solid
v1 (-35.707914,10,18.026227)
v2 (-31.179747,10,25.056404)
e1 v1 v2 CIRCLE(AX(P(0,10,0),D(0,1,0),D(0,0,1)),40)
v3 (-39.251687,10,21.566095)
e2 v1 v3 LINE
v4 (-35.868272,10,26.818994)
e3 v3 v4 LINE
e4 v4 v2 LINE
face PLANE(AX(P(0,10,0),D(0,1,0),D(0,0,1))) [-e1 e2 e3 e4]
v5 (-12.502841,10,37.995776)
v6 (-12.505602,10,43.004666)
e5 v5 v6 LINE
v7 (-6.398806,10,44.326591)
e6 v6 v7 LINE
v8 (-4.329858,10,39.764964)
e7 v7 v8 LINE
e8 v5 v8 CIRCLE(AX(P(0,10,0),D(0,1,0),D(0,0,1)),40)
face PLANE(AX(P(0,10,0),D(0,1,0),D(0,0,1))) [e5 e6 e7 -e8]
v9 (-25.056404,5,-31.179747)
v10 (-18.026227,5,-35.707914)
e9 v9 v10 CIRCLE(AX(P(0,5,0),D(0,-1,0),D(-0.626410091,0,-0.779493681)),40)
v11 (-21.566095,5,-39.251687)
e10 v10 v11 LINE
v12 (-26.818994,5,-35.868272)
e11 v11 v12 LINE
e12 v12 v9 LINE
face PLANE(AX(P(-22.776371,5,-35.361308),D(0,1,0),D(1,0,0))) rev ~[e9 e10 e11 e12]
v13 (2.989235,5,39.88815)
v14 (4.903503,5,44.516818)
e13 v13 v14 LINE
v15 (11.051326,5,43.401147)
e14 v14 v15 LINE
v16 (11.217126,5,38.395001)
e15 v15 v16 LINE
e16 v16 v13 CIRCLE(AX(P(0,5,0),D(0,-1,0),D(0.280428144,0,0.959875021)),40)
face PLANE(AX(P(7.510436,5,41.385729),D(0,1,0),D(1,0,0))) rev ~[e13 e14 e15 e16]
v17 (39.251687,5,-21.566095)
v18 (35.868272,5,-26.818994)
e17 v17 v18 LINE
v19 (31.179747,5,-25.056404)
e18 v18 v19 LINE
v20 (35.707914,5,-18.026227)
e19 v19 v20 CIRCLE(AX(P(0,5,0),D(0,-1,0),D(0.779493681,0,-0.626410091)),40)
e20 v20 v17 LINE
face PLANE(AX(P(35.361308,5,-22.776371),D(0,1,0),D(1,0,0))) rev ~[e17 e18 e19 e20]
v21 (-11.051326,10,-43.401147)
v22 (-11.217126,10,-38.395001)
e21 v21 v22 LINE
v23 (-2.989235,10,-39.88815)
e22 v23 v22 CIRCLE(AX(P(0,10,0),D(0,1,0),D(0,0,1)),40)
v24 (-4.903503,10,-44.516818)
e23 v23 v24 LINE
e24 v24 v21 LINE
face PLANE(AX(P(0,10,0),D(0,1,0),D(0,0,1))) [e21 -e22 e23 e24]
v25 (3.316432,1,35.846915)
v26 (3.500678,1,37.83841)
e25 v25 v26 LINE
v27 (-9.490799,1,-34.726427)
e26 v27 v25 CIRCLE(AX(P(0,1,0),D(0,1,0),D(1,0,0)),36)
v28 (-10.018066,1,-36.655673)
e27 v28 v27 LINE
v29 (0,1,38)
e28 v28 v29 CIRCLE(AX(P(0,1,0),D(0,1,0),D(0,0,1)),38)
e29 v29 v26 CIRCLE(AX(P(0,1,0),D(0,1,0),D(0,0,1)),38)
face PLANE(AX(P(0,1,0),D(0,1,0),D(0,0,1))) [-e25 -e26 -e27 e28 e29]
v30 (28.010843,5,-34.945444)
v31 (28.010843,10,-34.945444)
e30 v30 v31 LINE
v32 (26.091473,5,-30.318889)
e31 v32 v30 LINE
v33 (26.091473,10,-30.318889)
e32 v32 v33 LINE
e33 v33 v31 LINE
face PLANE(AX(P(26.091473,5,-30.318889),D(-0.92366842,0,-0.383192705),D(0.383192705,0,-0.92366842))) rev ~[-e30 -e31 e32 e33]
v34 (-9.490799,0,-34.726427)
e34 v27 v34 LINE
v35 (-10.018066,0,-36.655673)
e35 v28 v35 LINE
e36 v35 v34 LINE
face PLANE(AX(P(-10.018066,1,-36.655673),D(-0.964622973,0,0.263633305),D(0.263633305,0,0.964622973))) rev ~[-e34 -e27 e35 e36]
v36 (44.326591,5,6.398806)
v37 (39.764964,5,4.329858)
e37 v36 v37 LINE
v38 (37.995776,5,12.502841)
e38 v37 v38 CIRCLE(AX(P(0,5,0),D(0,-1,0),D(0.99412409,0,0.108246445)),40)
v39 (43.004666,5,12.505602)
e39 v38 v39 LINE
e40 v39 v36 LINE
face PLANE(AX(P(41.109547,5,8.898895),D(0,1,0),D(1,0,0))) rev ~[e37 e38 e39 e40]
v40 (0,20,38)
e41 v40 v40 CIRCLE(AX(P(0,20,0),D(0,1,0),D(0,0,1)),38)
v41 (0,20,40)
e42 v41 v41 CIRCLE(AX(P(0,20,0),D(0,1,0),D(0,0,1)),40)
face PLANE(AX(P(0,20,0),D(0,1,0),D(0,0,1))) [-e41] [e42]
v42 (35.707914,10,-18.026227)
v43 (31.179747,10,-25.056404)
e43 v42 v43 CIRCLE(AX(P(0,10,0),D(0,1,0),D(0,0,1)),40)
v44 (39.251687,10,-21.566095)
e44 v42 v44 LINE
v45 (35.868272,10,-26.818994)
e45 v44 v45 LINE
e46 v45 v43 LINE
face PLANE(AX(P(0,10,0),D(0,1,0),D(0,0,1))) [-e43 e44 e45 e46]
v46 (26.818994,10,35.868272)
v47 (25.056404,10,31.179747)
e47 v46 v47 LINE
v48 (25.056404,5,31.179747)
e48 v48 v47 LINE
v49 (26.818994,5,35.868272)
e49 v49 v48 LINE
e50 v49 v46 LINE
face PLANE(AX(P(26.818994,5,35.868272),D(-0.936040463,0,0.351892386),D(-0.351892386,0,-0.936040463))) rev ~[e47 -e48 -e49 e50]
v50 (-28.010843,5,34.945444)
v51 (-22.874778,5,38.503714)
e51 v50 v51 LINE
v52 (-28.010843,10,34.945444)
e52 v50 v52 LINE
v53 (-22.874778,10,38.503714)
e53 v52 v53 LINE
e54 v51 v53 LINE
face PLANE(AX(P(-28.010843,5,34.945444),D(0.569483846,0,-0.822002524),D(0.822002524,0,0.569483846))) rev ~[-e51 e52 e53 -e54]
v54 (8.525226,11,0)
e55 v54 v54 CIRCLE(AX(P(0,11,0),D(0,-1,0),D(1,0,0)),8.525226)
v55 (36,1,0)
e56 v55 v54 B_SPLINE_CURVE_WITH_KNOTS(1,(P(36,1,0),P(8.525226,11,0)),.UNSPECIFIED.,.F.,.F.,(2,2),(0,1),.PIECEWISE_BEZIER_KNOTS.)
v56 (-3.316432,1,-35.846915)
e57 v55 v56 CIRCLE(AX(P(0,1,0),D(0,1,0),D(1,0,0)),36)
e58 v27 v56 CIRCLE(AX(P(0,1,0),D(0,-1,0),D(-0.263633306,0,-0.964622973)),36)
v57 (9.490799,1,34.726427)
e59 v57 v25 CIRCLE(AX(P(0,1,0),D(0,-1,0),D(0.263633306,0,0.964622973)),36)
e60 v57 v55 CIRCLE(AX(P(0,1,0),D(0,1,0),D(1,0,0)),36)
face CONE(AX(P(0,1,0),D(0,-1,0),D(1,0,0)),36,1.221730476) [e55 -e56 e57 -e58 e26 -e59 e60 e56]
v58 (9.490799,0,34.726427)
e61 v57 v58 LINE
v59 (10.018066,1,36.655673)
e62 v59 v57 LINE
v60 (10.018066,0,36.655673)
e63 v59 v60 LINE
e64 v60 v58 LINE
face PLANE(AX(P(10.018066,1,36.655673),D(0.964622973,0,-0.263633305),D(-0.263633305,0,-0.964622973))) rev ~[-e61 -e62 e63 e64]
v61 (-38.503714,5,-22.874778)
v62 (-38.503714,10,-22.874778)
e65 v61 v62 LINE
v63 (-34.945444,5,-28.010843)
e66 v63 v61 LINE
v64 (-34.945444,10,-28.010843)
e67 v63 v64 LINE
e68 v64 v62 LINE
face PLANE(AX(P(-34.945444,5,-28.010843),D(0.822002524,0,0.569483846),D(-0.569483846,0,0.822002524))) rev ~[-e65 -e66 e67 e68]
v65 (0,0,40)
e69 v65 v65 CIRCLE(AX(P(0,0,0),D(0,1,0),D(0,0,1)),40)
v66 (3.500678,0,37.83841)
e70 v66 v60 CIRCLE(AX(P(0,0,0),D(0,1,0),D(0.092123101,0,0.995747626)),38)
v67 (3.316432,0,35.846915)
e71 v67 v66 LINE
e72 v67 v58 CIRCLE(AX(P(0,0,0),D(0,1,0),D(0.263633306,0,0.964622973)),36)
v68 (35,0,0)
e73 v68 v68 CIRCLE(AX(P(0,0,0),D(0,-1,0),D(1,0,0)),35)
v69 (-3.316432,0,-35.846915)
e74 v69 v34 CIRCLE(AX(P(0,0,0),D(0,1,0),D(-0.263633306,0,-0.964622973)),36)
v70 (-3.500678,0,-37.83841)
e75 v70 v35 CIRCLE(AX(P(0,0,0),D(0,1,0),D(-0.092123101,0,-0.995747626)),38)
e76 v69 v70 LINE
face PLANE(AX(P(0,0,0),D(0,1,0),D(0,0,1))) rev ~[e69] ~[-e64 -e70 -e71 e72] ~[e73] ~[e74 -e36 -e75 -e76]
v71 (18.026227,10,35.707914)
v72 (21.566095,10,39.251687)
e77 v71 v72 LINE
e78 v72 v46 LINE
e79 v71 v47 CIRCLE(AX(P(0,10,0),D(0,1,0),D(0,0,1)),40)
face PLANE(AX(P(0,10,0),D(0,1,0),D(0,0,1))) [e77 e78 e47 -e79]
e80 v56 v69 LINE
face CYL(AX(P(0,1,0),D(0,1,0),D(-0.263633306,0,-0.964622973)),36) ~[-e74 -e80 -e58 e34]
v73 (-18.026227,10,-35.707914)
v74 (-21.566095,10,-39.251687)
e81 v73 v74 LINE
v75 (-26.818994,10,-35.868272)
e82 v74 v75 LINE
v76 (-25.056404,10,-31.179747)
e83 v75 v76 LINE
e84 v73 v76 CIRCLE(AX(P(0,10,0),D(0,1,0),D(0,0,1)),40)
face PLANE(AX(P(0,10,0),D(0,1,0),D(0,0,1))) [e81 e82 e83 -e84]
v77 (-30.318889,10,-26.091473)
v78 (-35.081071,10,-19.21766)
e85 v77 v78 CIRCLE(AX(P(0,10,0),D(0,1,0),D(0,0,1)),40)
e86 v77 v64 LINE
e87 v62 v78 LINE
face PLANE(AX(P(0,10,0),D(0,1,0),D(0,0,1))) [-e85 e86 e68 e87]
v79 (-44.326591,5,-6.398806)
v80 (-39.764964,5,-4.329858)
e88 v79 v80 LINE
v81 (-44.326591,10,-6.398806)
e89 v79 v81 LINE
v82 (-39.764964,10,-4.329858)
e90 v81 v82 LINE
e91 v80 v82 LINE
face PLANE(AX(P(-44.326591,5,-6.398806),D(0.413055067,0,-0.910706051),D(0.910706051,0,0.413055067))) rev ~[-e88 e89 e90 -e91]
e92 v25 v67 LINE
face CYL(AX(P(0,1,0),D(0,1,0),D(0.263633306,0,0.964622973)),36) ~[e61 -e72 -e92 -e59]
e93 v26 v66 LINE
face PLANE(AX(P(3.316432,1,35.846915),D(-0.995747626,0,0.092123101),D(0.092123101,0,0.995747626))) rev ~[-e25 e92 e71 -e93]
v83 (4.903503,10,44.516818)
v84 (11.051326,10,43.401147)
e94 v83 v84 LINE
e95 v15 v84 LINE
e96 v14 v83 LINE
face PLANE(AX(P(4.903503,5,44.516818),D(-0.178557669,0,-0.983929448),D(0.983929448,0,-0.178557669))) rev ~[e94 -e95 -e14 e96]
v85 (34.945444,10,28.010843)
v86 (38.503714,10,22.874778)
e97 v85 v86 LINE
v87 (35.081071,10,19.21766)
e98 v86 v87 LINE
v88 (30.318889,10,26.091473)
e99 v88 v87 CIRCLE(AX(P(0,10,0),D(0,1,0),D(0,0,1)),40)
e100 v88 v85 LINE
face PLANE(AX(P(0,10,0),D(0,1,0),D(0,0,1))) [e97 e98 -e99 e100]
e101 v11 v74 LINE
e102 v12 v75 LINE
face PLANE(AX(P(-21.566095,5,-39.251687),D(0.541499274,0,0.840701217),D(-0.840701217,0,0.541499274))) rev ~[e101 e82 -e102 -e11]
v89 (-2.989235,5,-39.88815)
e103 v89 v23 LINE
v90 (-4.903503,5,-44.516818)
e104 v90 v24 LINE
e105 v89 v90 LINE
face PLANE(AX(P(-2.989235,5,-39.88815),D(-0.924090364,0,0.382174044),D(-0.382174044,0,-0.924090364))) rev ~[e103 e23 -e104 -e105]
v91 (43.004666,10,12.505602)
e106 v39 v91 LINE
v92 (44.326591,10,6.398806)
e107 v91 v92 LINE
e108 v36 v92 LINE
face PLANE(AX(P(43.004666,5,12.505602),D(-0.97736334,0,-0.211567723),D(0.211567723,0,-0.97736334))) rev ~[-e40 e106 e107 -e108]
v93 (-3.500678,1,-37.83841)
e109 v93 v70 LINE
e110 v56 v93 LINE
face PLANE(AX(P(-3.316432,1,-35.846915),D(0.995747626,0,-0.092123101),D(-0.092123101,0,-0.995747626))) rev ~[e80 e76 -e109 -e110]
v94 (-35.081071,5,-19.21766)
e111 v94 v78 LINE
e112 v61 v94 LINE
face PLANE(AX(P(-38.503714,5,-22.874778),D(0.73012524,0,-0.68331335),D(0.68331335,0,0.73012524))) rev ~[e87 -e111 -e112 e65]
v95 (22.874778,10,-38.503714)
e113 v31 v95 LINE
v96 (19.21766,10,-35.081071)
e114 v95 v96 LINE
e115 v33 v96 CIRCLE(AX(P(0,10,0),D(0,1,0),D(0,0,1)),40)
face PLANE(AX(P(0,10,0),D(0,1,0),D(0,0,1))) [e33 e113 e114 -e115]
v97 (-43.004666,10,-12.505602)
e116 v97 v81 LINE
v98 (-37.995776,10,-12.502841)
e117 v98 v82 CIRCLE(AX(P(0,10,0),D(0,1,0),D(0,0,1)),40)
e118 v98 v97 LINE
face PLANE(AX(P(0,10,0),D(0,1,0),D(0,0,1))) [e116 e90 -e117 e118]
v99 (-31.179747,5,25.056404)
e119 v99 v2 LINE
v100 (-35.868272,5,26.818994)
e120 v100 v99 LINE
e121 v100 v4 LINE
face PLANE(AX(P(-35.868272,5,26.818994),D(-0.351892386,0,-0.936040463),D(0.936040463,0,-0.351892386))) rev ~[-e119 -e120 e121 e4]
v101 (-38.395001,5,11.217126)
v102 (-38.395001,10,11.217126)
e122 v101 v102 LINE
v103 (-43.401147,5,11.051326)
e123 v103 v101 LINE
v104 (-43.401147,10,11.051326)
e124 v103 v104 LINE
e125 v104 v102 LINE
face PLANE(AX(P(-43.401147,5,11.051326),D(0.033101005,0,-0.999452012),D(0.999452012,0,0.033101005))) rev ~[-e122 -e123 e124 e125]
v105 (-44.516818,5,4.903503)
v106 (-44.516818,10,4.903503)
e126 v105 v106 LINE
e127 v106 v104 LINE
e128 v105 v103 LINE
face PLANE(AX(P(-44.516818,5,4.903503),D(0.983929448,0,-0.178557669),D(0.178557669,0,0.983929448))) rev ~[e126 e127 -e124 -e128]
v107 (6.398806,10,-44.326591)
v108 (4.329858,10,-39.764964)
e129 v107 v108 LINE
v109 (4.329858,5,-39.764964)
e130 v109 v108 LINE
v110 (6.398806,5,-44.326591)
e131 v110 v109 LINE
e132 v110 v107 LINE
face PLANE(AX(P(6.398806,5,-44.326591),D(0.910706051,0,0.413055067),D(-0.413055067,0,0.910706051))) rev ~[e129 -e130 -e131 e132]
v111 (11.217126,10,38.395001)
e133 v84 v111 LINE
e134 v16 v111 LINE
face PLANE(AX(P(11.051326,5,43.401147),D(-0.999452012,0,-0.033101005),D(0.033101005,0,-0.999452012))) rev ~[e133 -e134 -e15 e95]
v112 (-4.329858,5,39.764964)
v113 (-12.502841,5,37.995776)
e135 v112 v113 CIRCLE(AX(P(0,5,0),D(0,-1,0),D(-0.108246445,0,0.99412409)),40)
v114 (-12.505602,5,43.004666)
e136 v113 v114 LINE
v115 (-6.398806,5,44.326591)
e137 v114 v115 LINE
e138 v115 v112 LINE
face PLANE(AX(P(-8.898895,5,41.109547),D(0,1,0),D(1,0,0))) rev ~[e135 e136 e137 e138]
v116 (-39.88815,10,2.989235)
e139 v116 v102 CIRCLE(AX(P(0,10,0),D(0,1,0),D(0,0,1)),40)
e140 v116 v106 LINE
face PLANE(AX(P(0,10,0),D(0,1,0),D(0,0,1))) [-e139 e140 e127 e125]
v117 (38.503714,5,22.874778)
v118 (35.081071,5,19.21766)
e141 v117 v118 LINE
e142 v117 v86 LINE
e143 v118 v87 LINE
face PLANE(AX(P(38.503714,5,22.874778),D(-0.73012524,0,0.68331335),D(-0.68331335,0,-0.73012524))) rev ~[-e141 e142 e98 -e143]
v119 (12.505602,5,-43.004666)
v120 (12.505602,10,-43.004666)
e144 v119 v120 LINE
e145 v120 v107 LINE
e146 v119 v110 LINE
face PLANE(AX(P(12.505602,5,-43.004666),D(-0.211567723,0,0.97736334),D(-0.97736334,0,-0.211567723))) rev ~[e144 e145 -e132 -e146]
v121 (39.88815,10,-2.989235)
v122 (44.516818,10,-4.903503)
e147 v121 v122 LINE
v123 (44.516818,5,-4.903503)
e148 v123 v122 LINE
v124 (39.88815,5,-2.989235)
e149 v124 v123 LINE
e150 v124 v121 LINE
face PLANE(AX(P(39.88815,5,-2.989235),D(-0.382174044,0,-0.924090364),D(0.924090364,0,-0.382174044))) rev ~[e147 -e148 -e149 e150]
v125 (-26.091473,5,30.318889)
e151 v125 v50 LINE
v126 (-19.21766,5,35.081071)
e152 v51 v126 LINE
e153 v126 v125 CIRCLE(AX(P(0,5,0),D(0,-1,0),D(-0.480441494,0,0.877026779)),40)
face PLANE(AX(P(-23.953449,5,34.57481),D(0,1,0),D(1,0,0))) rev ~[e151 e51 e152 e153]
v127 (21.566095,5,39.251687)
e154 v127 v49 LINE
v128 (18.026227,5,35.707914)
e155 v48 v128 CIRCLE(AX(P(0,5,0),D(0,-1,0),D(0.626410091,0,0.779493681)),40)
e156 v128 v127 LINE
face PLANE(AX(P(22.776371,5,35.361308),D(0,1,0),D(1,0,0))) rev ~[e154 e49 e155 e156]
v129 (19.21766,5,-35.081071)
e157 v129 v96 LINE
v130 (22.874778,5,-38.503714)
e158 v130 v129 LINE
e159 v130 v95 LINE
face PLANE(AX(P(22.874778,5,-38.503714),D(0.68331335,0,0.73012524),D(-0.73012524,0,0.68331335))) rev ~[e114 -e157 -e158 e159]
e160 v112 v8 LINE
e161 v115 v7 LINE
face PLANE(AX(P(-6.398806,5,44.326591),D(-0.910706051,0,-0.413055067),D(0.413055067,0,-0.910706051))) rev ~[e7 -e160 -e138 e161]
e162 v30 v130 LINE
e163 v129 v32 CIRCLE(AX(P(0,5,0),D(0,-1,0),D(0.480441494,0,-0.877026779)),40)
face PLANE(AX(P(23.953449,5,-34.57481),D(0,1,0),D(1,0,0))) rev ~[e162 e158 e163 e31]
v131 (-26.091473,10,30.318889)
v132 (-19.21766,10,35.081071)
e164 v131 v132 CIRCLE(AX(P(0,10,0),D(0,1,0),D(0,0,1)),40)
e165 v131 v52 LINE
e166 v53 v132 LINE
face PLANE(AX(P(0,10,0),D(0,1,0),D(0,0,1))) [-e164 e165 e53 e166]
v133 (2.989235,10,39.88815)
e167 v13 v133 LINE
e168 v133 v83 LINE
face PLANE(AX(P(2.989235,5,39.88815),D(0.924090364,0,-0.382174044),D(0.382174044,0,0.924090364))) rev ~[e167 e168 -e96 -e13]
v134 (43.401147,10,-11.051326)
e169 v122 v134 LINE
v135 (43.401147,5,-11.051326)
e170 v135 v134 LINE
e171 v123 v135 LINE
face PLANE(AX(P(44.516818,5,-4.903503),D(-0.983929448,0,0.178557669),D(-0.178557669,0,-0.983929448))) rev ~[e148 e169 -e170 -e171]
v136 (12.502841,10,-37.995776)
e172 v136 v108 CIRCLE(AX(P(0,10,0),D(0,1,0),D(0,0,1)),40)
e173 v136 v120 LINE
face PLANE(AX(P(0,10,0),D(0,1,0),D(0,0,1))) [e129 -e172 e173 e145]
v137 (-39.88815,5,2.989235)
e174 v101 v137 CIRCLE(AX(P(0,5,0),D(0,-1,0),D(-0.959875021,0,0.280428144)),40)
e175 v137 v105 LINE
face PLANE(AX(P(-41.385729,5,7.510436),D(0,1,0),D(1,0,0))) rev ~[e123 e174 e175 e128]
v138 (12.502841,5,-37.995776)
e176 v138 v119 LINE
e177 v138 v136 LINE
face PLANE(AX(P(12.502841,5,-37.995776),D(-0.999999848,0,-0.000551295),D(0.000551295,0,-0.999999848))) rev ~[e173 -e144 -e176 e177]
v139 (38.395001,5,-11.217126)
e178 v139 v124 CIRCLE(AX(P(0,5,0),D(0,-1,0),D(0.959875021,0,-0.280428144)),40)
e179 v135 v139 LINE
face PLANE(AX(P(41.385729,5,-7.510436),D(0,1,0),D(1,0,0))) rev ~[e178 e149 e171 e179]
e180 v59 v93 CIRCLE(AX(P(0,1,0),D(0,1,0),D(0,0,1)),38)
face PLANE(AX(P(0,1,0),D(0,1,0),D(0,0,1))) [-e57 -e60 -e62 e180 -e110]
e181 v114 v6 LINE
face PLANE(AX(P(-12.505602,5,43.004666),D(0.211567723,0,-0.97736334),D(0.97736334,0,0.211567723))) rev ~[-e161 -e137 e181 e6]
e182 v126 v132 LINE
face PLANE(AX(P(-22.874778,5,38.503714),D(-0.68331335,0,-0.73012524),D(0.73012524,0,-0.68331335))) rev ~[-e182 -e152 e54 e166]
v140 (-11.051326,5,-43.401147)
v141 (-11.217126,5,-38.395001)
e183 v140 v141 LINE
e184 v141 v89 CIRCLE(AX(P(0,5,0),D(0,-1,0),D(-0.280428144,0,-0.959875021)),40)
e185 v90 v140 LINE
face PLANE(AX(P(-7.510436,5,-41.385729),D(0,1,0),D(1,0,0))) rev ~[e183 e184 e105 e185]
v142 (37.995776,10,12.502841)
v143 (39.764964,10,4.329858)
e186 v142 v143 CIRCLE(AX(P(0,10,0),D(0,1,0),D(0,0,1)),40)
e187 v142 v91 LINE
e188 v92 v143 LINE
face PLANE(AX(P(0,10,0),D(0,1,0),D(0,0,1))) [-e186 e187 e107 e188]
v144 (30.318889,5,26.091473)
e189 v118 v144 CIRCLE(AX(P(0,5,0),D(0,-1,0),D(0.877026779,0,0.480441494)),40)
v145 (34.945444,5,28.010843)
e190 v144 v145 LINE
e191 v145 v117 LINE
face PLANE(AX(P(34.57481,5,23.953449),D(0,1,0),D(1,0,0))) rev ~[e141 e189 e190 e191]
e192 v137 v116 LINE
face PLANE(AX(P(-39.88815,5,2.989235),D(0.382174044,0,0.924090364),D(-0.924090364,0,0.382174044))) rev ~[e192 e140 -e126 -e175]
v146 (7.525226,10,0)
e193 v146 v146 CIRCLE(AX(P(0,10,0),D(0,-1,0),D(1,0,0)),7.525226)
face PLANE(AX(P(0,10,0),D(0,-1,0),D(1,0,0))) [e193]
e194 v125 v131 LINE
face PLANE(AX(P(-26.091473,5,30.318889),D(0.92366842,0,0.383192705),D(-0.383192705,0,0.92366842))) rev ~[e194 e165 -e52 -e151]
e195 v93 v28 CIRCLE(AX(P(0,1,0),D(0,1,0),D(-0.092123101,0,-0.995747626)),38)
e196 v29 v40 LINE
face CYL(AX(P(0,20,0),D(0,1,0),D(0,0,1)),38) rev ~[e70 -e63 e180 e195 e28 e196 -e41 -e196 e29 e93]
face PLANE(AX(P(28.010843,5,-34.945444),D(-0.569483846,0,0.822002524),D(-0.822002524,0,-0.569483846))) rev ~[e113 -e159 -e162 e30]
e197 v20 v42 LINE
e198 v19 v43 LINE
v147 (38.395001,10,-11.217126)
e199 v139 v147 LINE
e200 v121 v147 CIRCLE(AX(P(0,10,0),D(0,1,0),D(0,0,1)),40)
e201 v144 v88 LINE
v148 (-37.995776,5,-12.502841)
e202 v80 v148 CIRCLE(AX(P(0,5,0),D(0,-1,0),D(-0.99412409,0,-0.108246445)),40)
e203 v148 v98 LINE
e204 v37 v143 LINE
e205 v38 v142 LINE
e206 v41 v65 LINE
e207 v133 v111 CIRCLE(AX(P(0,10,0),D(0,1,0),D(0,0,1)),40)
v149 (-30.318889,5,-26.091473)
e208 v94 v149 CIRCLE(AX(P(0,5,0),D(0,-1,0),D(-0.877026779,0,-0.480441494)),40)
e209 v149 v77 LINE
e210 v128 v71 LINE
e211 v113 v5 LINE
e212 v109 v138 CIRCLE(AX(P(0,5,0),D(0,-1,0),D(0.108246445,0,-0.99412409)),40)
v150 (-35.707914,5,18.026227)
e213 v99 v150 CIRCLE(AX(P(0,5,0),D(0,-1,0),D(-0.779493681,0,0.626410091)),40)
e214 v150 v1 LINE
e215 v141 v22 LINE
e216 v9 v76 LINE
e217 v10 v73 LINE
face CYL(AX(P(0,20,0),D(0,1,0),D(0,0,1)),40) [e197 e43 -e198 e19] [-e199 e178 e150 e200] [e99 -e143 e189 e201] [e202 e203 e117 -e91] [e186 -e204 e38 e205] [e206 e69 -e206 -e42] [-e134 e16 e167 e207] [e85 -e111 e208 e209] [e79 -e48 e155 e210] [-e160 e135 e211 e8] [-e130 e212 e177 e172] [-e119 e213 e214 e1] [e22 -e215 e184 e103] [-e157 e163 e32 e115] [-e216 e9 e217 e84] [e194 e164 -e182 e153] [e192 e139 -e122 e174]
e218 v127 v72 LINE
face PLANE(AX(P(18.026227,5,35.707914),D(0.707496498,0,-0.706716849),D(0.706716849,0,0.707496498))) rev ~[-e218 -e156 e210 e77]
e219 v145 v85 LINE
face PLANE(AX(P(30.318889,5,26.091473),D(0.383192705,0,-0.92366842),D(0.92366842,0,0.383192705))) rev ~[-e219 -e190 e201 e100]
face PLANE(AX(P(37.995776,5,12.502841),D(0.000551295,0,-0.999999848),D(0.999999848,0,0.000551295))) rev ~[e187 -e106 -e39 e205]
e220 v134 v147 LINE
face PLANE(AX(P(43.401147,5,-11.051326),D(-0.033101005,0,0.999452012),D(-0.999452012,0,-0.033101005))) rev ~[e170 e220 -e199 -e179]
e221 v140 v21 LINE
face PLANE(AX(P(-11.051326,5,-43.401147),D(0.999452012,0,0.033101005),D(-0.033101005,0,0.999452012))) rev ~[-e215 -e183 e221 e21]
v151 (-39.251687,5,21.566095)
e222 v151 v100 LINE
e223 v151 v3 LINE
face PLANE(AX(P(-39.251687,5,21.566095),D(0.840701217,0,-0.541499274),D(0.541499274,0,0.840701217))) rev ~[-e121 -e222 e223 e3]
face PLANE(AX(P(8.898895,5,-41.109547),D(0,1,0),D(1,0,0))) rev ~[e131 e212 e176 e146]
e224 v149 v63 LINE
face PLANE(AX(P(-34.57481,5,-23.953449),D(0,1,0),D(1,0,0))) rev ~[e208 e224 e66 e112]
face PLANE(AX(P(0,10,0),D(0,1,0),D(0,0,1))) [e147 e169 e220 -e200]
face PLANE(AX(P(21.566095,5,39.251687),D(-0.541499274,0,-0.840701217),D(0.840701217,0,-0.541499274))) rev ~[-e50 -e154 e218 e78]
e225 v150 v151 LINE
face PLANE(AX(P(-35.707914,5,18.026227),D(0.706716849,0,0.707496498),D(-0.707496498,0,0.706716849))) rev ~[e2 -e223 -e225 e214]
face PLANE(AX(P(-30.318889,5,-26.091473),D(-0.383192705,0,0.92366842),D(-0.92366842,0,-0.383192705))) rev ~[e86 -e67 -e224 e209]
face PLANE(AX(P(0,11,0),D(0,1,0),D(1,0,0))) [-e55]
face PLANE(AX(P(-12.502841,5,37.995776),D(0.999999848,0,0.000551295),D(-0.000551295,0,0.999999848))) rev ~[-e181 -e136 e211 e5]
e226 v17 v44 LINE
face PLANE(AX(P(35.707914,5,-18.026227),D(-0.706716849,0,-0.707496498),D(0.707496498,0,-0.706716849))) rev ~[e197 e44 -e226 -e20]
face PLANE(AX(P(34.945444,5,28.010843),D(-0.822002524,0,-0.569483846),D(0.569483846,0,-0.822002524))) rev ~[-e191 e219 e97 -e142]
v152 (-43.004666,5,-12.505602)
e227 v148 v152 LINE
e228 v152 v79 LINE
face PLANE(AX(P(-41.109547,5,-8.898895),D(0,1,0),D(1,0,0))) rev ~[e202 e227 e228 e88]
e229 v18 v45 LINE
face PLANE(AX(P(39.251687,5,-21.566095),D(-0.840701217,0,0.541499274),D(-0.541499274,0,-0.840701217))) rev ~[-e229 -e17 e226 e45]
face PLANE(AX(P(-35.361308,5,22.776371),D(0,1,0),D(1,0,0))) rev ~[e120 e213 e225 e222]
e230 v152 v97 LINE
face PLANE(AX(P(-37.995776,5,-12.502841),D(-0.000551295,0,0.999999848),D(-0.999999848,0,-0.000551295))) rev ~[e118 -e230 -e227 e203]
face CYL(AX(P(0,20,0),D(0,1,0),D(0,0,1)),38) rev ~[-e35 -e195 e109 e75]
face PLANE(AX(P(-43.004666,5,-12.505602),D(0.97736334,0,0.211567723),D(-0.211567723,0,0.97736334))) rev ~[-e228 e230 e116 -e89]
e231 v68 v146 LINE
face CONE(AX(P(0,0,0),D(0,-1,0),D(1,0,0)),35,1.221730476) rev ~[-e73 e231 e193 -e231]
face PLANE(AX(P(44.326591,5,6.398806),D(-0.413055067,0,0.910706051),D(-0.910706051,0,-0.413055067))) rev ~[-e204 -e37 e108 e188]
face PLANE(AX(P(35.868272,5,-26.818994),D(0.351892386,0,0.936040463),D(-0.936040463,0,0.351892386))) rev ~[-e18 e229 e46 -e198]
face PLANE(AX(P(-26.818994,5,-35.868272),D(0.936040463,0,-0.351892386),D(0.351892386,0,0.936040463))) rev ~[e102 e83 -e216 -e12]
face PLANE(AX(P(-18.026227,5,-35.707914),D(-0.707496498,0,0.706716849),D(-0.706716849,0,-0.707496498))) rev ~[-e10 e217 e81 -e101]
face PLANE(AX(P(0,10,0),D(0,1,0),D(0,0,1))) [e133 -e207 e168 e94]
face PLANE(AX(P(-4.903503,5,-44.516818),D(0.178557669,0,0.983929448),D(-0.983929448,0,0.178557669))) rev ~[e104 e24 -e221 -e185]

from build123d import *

# Parameters (mm, degrees)
SKETCH1_R           = 40
BOSS_EXTRUDE1_DEPTH = 10
SKETCH2_R           = 38
CUT_EXTRUDE1_DEPTH  = 9
CUT_EXTRUDE2_DEPTH  = 8
SKETCH4_R           = 36
BOSS_EXTRUDE2_DEPTH = 10
BOSS_EXTRUDE2_TAPER = 70
SKETCH5_R           = 35
CUT_EXTRUDE3_DEPTH  = 10
CUT_EXTRUDE3_DRAFT  = -70
BOSS_EXTRUDE4_START = -5
BOSS_EXTRUDE4_DEPTH = 5
BOSS_EXTRUDE5_START = 10
SKETCH8_R           = 40
SKETCH8_R_2         = 38
BOSS_EXTRUDE5_DEPTH = 10


with BuildPart() as part:
    # Sketch1 → Boss-Extrude1 (new body)
    with BuildSketch(Plane(origin=(0, 0, 0), x_dir=(1, 0, 0), z_dir=(0, 1, 0))):
        with Locations(Location((0, 0, 0), (0, 0, 270))):
            Circle(SKETCH1_R)
    extrude(amount=BOSS_EXTRUDE1_DEPTH)

    # Sketch2 → Cut-Extrude1 (cut)
    with BuildSketch(Plane(origin=(0, 10, 0), x_dir=(1, 0, 0), z_dir=(0, 1, 0))):
        with Locations(Location((0, 0, 0), (0, 0, 270))):
            Circle(SKETCH2_R)
    extrude(amount=-CUT_EXTRUDE1_DEPTH, mode=Mode.SUBTRACT)

    # Sketch3 → Cut-Extrude2 (cut)
    with BuildSketch(Plane(origin=(0, 1, 0), x_dir=(1, 0, 0), z_dir=(0, 1, 0))):
        with BuildLine():
            Line((-10.01806559, 36.655672983), (-9.49079898, 34.726427036))
            ThreePointArc((-9.49079898, 34.726427036), (-6.428076084, 35.421460132), (-3.316431646, 35.846914527))
            Line((-3.316431646, 35.846914527), (-3.500677849, 37.838409779))
            ThreePointArc((-3.500677849, 37.838409779), (-6.785191422, 37.389319028), (-10.01806559, 36.655672983))
        make_face()
        with BuildLine():
            Line((10.01806559, -36.655672983), (9.49079898, -34.726427036))
            ThreePointArc((9.49079898, -34.726427036), (6.428076084, -35.421460132), (3.316431646, -35.846914527))
            Line((3.316431646, -35.846914527), (3.500677849, -37.838409779))
            ThreePointArc((3.500677849, -37.838409779), (6.785191421, -37.389319028), (10.01806559, -36.655672983))
        make_face()
    extrude(amount=-CUT_EXTRUDE2_DEPTH, mode=Mode.SUBTRACT)

    # Sketch4 → Boss-Extrude2 (add)
    with BuildSketch(Plane(origin=(0, 1, 0), x_dir=(1, 0, 0), z_dir=(0, 1, 0))):
        Circle(SKETCH4_R)
    extrude(amount=BOSS_EXTRUDE2_DEPTH, taper=BOSS_EXTRUDE2_TAPER)


with BuildPart() as cut_extrude3_tool:
    # Sketch5 → Cut-Extrude3 (with draft: the straight prism first)
    with BuildSketch(Plane.XZ):
        Circle(SKETCH5_R)
    extrude(amount=-CUT_EXTRUDE3_DEPTH)
    # Cut-Extrude3: the draft: its side faces are tilted about the plane it starts from
    cut_extrude3_sides = [cut_extrude3_tool.faces().sort_by_distance(p)[0] for p in [
        (-35, 5, 0),
    ]]
    draft(cut_extrude3_sides, Plane.XZ, CUT_EXTRUDE3_DRAFT)


with BuildPart() as part_1:
    add(part.part)

    # Cut-Extrude3: cut by cut_extrude3_tool
    add(cut_extrude3_tool.part, mode=Mode.SUBTRACT)

    # Sketch7 → Boss-Extrude4 (add)
    with BuildSketch(Plane(origin=(0, 10, 0), x_dir=(1, 0, 0), z_dir=(0, 1, 0)).offset(BOSS_EXTRUDE4_START)):
        with BuildLine():
            Line((-11.051326445, 43.40114745), (-11.217125783, 38.395000836))
            ThreePointArc((-11.217125783, 38.395000836), (-7.142306759, 39.357177924), (-2.989235129, 39.888149535))
            Line((-2.989235129, 39.888149535), (-4.90350342, 44.516817838))
            Line((-4.90350342, 44.516817838), (-11.051326445, 43.40114745))
        make_face()
        with BuildLine():
            Line((6.398805765, 44.326591353), (4.329857781, 39.764963619))
            ThreePointArc((4.329857781, 39.764963619), (8.462708906, 39.094533607), (12.502840822, 37.995775705))
            Line((12.502840822, 37.995775705), (12.505602201, 43.004666372))
            Line((12.505602201, 43.004666372), (6.398805765, 44.326591353))
        make_face()
        with BuildLine():
            Line((22.874777803, 38.503713544), (19.217659748, 35.081071161))
            ThreePointArc((19.217659748, 35.081071161), (22.779353856, 32.880100941), (26.091472595, 30.318889455))
            Line((26.091472595, 30.318889455), (28.01084325, 34.94544429))
            Line((28.01084325, 34.94544429), (22.874777803, 38.503713544))
        make_face()
        with BuildLine():
            Line((35.868272281, 26.818994385), (31.179747227, 25.05640363))
            ThreePointArc((31.179747227, 25.05640363), (33.628048676, 21.659970966), (35.707914186, 18.026227128))
            Line((35.707914186, 18.026227128), (39.251687333, 21.566095096))
            Line((39.251687333, 21.566095096), (35.868272281, 26.818994385))
        make_face()
        with BuildLine():
            Line((43.40114745, 11.051326445), (38.395000836, 11.217125783))
            ThreePointArc((38.395000836, 11.217125783), (39.357177924, 7.142306759), (39.888149535, 2.989235129))
            Line((39.888149535, 2.989235129), (44.516817838, 4.90350342))
            Line((44.516817838, 4.90350342), (43.40114745, 11.051326445))
        make_face()
        with BuildLine():
            Line((44.326591353, -6.398805765), (39.764963619, -4.329857781))
            ThreePointArc((39.764963619, -4.329857781), (39.094533607, -8.462708906), (37.995775705, -12.502840822))
            Line((37.995775705, -12.502840822), (43.004666372, -12.505602201))
            Line((43.004666372, -12.505602201), (44.326591353, -6.398805765))
        make_face()
        with BuildLine():
            Line((38.503713544, -22.874777803), (35.081071161, -19.217659748))
            ThreePointArc((35.081071161, -19.217659748), (32.880100941, -22.779353856), (30.318889455, -26.091472595))
            Line((30.318889455, -26.091472595), (34.94544429, -28.01084325))
            Line((34.94544429, -28.01084325), (38.503713544, -22.874777803))
        make_face()
        with BuildLine():
            Line((26.818994385, -35.868272281), (25.05640363, -31.179747227))
            ThreePointArc((25.05640363, -31.179747227), (21.659970966, -33.628048676), (18.026227128, -35.707914186))
            Line((18.026227128, -35.707914186), (21.566095096, -39.251687333))
            Line((21.566095096, -39.251687333), (26.818994385, -35.868272281))
        make_face()
        with BuildLine():
            Line((11.051326445, -43.40114745), (11.217125783, -38.395000836))
            ThreePointArc((11.217125783, -38.395000836), (7.142306759, -39.357177924), (2.989235129, -39.888149535))
            Line((2.989235129, -39.888149535), (4.90350342, -44.516817838))
            Line((4.90350342, -44.516817838), (11.051326445, -43.40114745))
        make_face()
        with BuildLine():
            Line((-6.398805765, -44.326591353), (-4.329857781, -39.764963619))
            ThreePointArc((-4.329857781, -39.764963619), (-8.462708906, -39.094533607), (-12.502840822, -37.995775705))
            Line((-12.502840822, -37.995775705), (-12.505602201, -43.004666372))
            Line((-12.505602201, -43.004666372), (-6.398805765, -44.326591353))
        make_face()
        with BuildLine():
            Line((-22.874777803, -38.503713544), (-19.217659748, -35.081071161))
            ThreePointArc((-19.217659748, -35.081071161), (-22.779353856, -32.880100941), (-26.091472595, -30.318889455))
            Line((-26.091472595, -30.318889455), (-28.01084325, -34.94544429))
            Line((-28.01084325, -34.94544429), (-22.874777803, -38.503713544))
        make_face()
        with BuildLine():
            Line((-35.868272281, -26.818994385), (-31.179747227, -25.05640363))
            ThreePointArc((-31.179747227, -25.05640363), (-33.628048676, -21.659970966), (-35.707914186, -18.026227128))
            Line((-35.707914186, -18.026227128), (-39.251687333, -21.566095096))
            Line((-39.251687333, -21.566095096), (-35.868272281, -26.818994385))
        make_face()
        with BuildLine():
            Line((-43.40114745, -11.051326445), (-38.395000836, -11.217125783))
            ThreePointArc((-38.395000836, -11.217125783), (-39.357177924, -7.142306759), (-39.888149535, -2.989235129))
            Line((-39.888149535, -2.989235129), (-44.516817838, -4.90350342))
            Line((-44.516817838, -4.90350342), (-43.40114745, -11.051326445))
        make_face()
        with BuildLine():
            Line((-44.326591353, 6.398805765), (-39.764963619, 4.329857781))
            ThreePointArc((-39.764963619, 4.329857781), (-39.094533607, 8.462708906), (-37.995775705, 12.502840822))
            Line((-37.995775705, 12.502840822), (-43.004666372, 12.505602201))
            Line((-43.004666372, 12.505602201), (-44.326591353, 6.398805765))
        make_face()
        with BuildLine():
            Line((-38.503713544, 22.874777803), (-35.081071161, 19.217659748))
            ThreePointArc((-35.081071161, 19.217659748), (-32.880100941, 22.779353856), (-30.318889455, 26.091472595))
            Line((-30.318889455, 26.091472595), (-34.94544429, 28.01084325))
            Line((-34.94544429, 28.01084325), (-38.503713544, 22.874777803))
        make_face()
        with BuildLine():
            Line((-26.818994385, 35.868272281), (-25.05640363, 31.179747227))
            ThreePointArc((-25.05640363, 31.179747227), (-21.659970966, 33.628048676), (-18.026227128, 35.707914186))
            Line((-18.026227128, 35.707914186), (-21.566095096, 39.251687333))
            Line((-21.566095096, 39.251687333), (-26.818994385, 35.868272281))
        make_face()
    extrude(amount=BOSS_EXTRUDE4_DEPTH)

    # Sketch8 → Boss-Extrude5 (add)
    with BuildSketch(Plane(origin=(0, 10, 0), x_dir=(1, 0, 0), z_dir=(0, 1, 0)).offset(BOSS_EXTRUDE5_START)):
        with Locations(Location((0, 0, 0), (0, 0, 270))):
            Circle(SKETCH8_R)
        with Locations(Location((0, 0, 0), (0, 0, 270))):
            Circle(SKETCH8_R_2, mode=Mode.SUBTRACT)
    extrude(amount=-BOSS_EXTRUDE5_DEPTH)


solid = part_1.part
